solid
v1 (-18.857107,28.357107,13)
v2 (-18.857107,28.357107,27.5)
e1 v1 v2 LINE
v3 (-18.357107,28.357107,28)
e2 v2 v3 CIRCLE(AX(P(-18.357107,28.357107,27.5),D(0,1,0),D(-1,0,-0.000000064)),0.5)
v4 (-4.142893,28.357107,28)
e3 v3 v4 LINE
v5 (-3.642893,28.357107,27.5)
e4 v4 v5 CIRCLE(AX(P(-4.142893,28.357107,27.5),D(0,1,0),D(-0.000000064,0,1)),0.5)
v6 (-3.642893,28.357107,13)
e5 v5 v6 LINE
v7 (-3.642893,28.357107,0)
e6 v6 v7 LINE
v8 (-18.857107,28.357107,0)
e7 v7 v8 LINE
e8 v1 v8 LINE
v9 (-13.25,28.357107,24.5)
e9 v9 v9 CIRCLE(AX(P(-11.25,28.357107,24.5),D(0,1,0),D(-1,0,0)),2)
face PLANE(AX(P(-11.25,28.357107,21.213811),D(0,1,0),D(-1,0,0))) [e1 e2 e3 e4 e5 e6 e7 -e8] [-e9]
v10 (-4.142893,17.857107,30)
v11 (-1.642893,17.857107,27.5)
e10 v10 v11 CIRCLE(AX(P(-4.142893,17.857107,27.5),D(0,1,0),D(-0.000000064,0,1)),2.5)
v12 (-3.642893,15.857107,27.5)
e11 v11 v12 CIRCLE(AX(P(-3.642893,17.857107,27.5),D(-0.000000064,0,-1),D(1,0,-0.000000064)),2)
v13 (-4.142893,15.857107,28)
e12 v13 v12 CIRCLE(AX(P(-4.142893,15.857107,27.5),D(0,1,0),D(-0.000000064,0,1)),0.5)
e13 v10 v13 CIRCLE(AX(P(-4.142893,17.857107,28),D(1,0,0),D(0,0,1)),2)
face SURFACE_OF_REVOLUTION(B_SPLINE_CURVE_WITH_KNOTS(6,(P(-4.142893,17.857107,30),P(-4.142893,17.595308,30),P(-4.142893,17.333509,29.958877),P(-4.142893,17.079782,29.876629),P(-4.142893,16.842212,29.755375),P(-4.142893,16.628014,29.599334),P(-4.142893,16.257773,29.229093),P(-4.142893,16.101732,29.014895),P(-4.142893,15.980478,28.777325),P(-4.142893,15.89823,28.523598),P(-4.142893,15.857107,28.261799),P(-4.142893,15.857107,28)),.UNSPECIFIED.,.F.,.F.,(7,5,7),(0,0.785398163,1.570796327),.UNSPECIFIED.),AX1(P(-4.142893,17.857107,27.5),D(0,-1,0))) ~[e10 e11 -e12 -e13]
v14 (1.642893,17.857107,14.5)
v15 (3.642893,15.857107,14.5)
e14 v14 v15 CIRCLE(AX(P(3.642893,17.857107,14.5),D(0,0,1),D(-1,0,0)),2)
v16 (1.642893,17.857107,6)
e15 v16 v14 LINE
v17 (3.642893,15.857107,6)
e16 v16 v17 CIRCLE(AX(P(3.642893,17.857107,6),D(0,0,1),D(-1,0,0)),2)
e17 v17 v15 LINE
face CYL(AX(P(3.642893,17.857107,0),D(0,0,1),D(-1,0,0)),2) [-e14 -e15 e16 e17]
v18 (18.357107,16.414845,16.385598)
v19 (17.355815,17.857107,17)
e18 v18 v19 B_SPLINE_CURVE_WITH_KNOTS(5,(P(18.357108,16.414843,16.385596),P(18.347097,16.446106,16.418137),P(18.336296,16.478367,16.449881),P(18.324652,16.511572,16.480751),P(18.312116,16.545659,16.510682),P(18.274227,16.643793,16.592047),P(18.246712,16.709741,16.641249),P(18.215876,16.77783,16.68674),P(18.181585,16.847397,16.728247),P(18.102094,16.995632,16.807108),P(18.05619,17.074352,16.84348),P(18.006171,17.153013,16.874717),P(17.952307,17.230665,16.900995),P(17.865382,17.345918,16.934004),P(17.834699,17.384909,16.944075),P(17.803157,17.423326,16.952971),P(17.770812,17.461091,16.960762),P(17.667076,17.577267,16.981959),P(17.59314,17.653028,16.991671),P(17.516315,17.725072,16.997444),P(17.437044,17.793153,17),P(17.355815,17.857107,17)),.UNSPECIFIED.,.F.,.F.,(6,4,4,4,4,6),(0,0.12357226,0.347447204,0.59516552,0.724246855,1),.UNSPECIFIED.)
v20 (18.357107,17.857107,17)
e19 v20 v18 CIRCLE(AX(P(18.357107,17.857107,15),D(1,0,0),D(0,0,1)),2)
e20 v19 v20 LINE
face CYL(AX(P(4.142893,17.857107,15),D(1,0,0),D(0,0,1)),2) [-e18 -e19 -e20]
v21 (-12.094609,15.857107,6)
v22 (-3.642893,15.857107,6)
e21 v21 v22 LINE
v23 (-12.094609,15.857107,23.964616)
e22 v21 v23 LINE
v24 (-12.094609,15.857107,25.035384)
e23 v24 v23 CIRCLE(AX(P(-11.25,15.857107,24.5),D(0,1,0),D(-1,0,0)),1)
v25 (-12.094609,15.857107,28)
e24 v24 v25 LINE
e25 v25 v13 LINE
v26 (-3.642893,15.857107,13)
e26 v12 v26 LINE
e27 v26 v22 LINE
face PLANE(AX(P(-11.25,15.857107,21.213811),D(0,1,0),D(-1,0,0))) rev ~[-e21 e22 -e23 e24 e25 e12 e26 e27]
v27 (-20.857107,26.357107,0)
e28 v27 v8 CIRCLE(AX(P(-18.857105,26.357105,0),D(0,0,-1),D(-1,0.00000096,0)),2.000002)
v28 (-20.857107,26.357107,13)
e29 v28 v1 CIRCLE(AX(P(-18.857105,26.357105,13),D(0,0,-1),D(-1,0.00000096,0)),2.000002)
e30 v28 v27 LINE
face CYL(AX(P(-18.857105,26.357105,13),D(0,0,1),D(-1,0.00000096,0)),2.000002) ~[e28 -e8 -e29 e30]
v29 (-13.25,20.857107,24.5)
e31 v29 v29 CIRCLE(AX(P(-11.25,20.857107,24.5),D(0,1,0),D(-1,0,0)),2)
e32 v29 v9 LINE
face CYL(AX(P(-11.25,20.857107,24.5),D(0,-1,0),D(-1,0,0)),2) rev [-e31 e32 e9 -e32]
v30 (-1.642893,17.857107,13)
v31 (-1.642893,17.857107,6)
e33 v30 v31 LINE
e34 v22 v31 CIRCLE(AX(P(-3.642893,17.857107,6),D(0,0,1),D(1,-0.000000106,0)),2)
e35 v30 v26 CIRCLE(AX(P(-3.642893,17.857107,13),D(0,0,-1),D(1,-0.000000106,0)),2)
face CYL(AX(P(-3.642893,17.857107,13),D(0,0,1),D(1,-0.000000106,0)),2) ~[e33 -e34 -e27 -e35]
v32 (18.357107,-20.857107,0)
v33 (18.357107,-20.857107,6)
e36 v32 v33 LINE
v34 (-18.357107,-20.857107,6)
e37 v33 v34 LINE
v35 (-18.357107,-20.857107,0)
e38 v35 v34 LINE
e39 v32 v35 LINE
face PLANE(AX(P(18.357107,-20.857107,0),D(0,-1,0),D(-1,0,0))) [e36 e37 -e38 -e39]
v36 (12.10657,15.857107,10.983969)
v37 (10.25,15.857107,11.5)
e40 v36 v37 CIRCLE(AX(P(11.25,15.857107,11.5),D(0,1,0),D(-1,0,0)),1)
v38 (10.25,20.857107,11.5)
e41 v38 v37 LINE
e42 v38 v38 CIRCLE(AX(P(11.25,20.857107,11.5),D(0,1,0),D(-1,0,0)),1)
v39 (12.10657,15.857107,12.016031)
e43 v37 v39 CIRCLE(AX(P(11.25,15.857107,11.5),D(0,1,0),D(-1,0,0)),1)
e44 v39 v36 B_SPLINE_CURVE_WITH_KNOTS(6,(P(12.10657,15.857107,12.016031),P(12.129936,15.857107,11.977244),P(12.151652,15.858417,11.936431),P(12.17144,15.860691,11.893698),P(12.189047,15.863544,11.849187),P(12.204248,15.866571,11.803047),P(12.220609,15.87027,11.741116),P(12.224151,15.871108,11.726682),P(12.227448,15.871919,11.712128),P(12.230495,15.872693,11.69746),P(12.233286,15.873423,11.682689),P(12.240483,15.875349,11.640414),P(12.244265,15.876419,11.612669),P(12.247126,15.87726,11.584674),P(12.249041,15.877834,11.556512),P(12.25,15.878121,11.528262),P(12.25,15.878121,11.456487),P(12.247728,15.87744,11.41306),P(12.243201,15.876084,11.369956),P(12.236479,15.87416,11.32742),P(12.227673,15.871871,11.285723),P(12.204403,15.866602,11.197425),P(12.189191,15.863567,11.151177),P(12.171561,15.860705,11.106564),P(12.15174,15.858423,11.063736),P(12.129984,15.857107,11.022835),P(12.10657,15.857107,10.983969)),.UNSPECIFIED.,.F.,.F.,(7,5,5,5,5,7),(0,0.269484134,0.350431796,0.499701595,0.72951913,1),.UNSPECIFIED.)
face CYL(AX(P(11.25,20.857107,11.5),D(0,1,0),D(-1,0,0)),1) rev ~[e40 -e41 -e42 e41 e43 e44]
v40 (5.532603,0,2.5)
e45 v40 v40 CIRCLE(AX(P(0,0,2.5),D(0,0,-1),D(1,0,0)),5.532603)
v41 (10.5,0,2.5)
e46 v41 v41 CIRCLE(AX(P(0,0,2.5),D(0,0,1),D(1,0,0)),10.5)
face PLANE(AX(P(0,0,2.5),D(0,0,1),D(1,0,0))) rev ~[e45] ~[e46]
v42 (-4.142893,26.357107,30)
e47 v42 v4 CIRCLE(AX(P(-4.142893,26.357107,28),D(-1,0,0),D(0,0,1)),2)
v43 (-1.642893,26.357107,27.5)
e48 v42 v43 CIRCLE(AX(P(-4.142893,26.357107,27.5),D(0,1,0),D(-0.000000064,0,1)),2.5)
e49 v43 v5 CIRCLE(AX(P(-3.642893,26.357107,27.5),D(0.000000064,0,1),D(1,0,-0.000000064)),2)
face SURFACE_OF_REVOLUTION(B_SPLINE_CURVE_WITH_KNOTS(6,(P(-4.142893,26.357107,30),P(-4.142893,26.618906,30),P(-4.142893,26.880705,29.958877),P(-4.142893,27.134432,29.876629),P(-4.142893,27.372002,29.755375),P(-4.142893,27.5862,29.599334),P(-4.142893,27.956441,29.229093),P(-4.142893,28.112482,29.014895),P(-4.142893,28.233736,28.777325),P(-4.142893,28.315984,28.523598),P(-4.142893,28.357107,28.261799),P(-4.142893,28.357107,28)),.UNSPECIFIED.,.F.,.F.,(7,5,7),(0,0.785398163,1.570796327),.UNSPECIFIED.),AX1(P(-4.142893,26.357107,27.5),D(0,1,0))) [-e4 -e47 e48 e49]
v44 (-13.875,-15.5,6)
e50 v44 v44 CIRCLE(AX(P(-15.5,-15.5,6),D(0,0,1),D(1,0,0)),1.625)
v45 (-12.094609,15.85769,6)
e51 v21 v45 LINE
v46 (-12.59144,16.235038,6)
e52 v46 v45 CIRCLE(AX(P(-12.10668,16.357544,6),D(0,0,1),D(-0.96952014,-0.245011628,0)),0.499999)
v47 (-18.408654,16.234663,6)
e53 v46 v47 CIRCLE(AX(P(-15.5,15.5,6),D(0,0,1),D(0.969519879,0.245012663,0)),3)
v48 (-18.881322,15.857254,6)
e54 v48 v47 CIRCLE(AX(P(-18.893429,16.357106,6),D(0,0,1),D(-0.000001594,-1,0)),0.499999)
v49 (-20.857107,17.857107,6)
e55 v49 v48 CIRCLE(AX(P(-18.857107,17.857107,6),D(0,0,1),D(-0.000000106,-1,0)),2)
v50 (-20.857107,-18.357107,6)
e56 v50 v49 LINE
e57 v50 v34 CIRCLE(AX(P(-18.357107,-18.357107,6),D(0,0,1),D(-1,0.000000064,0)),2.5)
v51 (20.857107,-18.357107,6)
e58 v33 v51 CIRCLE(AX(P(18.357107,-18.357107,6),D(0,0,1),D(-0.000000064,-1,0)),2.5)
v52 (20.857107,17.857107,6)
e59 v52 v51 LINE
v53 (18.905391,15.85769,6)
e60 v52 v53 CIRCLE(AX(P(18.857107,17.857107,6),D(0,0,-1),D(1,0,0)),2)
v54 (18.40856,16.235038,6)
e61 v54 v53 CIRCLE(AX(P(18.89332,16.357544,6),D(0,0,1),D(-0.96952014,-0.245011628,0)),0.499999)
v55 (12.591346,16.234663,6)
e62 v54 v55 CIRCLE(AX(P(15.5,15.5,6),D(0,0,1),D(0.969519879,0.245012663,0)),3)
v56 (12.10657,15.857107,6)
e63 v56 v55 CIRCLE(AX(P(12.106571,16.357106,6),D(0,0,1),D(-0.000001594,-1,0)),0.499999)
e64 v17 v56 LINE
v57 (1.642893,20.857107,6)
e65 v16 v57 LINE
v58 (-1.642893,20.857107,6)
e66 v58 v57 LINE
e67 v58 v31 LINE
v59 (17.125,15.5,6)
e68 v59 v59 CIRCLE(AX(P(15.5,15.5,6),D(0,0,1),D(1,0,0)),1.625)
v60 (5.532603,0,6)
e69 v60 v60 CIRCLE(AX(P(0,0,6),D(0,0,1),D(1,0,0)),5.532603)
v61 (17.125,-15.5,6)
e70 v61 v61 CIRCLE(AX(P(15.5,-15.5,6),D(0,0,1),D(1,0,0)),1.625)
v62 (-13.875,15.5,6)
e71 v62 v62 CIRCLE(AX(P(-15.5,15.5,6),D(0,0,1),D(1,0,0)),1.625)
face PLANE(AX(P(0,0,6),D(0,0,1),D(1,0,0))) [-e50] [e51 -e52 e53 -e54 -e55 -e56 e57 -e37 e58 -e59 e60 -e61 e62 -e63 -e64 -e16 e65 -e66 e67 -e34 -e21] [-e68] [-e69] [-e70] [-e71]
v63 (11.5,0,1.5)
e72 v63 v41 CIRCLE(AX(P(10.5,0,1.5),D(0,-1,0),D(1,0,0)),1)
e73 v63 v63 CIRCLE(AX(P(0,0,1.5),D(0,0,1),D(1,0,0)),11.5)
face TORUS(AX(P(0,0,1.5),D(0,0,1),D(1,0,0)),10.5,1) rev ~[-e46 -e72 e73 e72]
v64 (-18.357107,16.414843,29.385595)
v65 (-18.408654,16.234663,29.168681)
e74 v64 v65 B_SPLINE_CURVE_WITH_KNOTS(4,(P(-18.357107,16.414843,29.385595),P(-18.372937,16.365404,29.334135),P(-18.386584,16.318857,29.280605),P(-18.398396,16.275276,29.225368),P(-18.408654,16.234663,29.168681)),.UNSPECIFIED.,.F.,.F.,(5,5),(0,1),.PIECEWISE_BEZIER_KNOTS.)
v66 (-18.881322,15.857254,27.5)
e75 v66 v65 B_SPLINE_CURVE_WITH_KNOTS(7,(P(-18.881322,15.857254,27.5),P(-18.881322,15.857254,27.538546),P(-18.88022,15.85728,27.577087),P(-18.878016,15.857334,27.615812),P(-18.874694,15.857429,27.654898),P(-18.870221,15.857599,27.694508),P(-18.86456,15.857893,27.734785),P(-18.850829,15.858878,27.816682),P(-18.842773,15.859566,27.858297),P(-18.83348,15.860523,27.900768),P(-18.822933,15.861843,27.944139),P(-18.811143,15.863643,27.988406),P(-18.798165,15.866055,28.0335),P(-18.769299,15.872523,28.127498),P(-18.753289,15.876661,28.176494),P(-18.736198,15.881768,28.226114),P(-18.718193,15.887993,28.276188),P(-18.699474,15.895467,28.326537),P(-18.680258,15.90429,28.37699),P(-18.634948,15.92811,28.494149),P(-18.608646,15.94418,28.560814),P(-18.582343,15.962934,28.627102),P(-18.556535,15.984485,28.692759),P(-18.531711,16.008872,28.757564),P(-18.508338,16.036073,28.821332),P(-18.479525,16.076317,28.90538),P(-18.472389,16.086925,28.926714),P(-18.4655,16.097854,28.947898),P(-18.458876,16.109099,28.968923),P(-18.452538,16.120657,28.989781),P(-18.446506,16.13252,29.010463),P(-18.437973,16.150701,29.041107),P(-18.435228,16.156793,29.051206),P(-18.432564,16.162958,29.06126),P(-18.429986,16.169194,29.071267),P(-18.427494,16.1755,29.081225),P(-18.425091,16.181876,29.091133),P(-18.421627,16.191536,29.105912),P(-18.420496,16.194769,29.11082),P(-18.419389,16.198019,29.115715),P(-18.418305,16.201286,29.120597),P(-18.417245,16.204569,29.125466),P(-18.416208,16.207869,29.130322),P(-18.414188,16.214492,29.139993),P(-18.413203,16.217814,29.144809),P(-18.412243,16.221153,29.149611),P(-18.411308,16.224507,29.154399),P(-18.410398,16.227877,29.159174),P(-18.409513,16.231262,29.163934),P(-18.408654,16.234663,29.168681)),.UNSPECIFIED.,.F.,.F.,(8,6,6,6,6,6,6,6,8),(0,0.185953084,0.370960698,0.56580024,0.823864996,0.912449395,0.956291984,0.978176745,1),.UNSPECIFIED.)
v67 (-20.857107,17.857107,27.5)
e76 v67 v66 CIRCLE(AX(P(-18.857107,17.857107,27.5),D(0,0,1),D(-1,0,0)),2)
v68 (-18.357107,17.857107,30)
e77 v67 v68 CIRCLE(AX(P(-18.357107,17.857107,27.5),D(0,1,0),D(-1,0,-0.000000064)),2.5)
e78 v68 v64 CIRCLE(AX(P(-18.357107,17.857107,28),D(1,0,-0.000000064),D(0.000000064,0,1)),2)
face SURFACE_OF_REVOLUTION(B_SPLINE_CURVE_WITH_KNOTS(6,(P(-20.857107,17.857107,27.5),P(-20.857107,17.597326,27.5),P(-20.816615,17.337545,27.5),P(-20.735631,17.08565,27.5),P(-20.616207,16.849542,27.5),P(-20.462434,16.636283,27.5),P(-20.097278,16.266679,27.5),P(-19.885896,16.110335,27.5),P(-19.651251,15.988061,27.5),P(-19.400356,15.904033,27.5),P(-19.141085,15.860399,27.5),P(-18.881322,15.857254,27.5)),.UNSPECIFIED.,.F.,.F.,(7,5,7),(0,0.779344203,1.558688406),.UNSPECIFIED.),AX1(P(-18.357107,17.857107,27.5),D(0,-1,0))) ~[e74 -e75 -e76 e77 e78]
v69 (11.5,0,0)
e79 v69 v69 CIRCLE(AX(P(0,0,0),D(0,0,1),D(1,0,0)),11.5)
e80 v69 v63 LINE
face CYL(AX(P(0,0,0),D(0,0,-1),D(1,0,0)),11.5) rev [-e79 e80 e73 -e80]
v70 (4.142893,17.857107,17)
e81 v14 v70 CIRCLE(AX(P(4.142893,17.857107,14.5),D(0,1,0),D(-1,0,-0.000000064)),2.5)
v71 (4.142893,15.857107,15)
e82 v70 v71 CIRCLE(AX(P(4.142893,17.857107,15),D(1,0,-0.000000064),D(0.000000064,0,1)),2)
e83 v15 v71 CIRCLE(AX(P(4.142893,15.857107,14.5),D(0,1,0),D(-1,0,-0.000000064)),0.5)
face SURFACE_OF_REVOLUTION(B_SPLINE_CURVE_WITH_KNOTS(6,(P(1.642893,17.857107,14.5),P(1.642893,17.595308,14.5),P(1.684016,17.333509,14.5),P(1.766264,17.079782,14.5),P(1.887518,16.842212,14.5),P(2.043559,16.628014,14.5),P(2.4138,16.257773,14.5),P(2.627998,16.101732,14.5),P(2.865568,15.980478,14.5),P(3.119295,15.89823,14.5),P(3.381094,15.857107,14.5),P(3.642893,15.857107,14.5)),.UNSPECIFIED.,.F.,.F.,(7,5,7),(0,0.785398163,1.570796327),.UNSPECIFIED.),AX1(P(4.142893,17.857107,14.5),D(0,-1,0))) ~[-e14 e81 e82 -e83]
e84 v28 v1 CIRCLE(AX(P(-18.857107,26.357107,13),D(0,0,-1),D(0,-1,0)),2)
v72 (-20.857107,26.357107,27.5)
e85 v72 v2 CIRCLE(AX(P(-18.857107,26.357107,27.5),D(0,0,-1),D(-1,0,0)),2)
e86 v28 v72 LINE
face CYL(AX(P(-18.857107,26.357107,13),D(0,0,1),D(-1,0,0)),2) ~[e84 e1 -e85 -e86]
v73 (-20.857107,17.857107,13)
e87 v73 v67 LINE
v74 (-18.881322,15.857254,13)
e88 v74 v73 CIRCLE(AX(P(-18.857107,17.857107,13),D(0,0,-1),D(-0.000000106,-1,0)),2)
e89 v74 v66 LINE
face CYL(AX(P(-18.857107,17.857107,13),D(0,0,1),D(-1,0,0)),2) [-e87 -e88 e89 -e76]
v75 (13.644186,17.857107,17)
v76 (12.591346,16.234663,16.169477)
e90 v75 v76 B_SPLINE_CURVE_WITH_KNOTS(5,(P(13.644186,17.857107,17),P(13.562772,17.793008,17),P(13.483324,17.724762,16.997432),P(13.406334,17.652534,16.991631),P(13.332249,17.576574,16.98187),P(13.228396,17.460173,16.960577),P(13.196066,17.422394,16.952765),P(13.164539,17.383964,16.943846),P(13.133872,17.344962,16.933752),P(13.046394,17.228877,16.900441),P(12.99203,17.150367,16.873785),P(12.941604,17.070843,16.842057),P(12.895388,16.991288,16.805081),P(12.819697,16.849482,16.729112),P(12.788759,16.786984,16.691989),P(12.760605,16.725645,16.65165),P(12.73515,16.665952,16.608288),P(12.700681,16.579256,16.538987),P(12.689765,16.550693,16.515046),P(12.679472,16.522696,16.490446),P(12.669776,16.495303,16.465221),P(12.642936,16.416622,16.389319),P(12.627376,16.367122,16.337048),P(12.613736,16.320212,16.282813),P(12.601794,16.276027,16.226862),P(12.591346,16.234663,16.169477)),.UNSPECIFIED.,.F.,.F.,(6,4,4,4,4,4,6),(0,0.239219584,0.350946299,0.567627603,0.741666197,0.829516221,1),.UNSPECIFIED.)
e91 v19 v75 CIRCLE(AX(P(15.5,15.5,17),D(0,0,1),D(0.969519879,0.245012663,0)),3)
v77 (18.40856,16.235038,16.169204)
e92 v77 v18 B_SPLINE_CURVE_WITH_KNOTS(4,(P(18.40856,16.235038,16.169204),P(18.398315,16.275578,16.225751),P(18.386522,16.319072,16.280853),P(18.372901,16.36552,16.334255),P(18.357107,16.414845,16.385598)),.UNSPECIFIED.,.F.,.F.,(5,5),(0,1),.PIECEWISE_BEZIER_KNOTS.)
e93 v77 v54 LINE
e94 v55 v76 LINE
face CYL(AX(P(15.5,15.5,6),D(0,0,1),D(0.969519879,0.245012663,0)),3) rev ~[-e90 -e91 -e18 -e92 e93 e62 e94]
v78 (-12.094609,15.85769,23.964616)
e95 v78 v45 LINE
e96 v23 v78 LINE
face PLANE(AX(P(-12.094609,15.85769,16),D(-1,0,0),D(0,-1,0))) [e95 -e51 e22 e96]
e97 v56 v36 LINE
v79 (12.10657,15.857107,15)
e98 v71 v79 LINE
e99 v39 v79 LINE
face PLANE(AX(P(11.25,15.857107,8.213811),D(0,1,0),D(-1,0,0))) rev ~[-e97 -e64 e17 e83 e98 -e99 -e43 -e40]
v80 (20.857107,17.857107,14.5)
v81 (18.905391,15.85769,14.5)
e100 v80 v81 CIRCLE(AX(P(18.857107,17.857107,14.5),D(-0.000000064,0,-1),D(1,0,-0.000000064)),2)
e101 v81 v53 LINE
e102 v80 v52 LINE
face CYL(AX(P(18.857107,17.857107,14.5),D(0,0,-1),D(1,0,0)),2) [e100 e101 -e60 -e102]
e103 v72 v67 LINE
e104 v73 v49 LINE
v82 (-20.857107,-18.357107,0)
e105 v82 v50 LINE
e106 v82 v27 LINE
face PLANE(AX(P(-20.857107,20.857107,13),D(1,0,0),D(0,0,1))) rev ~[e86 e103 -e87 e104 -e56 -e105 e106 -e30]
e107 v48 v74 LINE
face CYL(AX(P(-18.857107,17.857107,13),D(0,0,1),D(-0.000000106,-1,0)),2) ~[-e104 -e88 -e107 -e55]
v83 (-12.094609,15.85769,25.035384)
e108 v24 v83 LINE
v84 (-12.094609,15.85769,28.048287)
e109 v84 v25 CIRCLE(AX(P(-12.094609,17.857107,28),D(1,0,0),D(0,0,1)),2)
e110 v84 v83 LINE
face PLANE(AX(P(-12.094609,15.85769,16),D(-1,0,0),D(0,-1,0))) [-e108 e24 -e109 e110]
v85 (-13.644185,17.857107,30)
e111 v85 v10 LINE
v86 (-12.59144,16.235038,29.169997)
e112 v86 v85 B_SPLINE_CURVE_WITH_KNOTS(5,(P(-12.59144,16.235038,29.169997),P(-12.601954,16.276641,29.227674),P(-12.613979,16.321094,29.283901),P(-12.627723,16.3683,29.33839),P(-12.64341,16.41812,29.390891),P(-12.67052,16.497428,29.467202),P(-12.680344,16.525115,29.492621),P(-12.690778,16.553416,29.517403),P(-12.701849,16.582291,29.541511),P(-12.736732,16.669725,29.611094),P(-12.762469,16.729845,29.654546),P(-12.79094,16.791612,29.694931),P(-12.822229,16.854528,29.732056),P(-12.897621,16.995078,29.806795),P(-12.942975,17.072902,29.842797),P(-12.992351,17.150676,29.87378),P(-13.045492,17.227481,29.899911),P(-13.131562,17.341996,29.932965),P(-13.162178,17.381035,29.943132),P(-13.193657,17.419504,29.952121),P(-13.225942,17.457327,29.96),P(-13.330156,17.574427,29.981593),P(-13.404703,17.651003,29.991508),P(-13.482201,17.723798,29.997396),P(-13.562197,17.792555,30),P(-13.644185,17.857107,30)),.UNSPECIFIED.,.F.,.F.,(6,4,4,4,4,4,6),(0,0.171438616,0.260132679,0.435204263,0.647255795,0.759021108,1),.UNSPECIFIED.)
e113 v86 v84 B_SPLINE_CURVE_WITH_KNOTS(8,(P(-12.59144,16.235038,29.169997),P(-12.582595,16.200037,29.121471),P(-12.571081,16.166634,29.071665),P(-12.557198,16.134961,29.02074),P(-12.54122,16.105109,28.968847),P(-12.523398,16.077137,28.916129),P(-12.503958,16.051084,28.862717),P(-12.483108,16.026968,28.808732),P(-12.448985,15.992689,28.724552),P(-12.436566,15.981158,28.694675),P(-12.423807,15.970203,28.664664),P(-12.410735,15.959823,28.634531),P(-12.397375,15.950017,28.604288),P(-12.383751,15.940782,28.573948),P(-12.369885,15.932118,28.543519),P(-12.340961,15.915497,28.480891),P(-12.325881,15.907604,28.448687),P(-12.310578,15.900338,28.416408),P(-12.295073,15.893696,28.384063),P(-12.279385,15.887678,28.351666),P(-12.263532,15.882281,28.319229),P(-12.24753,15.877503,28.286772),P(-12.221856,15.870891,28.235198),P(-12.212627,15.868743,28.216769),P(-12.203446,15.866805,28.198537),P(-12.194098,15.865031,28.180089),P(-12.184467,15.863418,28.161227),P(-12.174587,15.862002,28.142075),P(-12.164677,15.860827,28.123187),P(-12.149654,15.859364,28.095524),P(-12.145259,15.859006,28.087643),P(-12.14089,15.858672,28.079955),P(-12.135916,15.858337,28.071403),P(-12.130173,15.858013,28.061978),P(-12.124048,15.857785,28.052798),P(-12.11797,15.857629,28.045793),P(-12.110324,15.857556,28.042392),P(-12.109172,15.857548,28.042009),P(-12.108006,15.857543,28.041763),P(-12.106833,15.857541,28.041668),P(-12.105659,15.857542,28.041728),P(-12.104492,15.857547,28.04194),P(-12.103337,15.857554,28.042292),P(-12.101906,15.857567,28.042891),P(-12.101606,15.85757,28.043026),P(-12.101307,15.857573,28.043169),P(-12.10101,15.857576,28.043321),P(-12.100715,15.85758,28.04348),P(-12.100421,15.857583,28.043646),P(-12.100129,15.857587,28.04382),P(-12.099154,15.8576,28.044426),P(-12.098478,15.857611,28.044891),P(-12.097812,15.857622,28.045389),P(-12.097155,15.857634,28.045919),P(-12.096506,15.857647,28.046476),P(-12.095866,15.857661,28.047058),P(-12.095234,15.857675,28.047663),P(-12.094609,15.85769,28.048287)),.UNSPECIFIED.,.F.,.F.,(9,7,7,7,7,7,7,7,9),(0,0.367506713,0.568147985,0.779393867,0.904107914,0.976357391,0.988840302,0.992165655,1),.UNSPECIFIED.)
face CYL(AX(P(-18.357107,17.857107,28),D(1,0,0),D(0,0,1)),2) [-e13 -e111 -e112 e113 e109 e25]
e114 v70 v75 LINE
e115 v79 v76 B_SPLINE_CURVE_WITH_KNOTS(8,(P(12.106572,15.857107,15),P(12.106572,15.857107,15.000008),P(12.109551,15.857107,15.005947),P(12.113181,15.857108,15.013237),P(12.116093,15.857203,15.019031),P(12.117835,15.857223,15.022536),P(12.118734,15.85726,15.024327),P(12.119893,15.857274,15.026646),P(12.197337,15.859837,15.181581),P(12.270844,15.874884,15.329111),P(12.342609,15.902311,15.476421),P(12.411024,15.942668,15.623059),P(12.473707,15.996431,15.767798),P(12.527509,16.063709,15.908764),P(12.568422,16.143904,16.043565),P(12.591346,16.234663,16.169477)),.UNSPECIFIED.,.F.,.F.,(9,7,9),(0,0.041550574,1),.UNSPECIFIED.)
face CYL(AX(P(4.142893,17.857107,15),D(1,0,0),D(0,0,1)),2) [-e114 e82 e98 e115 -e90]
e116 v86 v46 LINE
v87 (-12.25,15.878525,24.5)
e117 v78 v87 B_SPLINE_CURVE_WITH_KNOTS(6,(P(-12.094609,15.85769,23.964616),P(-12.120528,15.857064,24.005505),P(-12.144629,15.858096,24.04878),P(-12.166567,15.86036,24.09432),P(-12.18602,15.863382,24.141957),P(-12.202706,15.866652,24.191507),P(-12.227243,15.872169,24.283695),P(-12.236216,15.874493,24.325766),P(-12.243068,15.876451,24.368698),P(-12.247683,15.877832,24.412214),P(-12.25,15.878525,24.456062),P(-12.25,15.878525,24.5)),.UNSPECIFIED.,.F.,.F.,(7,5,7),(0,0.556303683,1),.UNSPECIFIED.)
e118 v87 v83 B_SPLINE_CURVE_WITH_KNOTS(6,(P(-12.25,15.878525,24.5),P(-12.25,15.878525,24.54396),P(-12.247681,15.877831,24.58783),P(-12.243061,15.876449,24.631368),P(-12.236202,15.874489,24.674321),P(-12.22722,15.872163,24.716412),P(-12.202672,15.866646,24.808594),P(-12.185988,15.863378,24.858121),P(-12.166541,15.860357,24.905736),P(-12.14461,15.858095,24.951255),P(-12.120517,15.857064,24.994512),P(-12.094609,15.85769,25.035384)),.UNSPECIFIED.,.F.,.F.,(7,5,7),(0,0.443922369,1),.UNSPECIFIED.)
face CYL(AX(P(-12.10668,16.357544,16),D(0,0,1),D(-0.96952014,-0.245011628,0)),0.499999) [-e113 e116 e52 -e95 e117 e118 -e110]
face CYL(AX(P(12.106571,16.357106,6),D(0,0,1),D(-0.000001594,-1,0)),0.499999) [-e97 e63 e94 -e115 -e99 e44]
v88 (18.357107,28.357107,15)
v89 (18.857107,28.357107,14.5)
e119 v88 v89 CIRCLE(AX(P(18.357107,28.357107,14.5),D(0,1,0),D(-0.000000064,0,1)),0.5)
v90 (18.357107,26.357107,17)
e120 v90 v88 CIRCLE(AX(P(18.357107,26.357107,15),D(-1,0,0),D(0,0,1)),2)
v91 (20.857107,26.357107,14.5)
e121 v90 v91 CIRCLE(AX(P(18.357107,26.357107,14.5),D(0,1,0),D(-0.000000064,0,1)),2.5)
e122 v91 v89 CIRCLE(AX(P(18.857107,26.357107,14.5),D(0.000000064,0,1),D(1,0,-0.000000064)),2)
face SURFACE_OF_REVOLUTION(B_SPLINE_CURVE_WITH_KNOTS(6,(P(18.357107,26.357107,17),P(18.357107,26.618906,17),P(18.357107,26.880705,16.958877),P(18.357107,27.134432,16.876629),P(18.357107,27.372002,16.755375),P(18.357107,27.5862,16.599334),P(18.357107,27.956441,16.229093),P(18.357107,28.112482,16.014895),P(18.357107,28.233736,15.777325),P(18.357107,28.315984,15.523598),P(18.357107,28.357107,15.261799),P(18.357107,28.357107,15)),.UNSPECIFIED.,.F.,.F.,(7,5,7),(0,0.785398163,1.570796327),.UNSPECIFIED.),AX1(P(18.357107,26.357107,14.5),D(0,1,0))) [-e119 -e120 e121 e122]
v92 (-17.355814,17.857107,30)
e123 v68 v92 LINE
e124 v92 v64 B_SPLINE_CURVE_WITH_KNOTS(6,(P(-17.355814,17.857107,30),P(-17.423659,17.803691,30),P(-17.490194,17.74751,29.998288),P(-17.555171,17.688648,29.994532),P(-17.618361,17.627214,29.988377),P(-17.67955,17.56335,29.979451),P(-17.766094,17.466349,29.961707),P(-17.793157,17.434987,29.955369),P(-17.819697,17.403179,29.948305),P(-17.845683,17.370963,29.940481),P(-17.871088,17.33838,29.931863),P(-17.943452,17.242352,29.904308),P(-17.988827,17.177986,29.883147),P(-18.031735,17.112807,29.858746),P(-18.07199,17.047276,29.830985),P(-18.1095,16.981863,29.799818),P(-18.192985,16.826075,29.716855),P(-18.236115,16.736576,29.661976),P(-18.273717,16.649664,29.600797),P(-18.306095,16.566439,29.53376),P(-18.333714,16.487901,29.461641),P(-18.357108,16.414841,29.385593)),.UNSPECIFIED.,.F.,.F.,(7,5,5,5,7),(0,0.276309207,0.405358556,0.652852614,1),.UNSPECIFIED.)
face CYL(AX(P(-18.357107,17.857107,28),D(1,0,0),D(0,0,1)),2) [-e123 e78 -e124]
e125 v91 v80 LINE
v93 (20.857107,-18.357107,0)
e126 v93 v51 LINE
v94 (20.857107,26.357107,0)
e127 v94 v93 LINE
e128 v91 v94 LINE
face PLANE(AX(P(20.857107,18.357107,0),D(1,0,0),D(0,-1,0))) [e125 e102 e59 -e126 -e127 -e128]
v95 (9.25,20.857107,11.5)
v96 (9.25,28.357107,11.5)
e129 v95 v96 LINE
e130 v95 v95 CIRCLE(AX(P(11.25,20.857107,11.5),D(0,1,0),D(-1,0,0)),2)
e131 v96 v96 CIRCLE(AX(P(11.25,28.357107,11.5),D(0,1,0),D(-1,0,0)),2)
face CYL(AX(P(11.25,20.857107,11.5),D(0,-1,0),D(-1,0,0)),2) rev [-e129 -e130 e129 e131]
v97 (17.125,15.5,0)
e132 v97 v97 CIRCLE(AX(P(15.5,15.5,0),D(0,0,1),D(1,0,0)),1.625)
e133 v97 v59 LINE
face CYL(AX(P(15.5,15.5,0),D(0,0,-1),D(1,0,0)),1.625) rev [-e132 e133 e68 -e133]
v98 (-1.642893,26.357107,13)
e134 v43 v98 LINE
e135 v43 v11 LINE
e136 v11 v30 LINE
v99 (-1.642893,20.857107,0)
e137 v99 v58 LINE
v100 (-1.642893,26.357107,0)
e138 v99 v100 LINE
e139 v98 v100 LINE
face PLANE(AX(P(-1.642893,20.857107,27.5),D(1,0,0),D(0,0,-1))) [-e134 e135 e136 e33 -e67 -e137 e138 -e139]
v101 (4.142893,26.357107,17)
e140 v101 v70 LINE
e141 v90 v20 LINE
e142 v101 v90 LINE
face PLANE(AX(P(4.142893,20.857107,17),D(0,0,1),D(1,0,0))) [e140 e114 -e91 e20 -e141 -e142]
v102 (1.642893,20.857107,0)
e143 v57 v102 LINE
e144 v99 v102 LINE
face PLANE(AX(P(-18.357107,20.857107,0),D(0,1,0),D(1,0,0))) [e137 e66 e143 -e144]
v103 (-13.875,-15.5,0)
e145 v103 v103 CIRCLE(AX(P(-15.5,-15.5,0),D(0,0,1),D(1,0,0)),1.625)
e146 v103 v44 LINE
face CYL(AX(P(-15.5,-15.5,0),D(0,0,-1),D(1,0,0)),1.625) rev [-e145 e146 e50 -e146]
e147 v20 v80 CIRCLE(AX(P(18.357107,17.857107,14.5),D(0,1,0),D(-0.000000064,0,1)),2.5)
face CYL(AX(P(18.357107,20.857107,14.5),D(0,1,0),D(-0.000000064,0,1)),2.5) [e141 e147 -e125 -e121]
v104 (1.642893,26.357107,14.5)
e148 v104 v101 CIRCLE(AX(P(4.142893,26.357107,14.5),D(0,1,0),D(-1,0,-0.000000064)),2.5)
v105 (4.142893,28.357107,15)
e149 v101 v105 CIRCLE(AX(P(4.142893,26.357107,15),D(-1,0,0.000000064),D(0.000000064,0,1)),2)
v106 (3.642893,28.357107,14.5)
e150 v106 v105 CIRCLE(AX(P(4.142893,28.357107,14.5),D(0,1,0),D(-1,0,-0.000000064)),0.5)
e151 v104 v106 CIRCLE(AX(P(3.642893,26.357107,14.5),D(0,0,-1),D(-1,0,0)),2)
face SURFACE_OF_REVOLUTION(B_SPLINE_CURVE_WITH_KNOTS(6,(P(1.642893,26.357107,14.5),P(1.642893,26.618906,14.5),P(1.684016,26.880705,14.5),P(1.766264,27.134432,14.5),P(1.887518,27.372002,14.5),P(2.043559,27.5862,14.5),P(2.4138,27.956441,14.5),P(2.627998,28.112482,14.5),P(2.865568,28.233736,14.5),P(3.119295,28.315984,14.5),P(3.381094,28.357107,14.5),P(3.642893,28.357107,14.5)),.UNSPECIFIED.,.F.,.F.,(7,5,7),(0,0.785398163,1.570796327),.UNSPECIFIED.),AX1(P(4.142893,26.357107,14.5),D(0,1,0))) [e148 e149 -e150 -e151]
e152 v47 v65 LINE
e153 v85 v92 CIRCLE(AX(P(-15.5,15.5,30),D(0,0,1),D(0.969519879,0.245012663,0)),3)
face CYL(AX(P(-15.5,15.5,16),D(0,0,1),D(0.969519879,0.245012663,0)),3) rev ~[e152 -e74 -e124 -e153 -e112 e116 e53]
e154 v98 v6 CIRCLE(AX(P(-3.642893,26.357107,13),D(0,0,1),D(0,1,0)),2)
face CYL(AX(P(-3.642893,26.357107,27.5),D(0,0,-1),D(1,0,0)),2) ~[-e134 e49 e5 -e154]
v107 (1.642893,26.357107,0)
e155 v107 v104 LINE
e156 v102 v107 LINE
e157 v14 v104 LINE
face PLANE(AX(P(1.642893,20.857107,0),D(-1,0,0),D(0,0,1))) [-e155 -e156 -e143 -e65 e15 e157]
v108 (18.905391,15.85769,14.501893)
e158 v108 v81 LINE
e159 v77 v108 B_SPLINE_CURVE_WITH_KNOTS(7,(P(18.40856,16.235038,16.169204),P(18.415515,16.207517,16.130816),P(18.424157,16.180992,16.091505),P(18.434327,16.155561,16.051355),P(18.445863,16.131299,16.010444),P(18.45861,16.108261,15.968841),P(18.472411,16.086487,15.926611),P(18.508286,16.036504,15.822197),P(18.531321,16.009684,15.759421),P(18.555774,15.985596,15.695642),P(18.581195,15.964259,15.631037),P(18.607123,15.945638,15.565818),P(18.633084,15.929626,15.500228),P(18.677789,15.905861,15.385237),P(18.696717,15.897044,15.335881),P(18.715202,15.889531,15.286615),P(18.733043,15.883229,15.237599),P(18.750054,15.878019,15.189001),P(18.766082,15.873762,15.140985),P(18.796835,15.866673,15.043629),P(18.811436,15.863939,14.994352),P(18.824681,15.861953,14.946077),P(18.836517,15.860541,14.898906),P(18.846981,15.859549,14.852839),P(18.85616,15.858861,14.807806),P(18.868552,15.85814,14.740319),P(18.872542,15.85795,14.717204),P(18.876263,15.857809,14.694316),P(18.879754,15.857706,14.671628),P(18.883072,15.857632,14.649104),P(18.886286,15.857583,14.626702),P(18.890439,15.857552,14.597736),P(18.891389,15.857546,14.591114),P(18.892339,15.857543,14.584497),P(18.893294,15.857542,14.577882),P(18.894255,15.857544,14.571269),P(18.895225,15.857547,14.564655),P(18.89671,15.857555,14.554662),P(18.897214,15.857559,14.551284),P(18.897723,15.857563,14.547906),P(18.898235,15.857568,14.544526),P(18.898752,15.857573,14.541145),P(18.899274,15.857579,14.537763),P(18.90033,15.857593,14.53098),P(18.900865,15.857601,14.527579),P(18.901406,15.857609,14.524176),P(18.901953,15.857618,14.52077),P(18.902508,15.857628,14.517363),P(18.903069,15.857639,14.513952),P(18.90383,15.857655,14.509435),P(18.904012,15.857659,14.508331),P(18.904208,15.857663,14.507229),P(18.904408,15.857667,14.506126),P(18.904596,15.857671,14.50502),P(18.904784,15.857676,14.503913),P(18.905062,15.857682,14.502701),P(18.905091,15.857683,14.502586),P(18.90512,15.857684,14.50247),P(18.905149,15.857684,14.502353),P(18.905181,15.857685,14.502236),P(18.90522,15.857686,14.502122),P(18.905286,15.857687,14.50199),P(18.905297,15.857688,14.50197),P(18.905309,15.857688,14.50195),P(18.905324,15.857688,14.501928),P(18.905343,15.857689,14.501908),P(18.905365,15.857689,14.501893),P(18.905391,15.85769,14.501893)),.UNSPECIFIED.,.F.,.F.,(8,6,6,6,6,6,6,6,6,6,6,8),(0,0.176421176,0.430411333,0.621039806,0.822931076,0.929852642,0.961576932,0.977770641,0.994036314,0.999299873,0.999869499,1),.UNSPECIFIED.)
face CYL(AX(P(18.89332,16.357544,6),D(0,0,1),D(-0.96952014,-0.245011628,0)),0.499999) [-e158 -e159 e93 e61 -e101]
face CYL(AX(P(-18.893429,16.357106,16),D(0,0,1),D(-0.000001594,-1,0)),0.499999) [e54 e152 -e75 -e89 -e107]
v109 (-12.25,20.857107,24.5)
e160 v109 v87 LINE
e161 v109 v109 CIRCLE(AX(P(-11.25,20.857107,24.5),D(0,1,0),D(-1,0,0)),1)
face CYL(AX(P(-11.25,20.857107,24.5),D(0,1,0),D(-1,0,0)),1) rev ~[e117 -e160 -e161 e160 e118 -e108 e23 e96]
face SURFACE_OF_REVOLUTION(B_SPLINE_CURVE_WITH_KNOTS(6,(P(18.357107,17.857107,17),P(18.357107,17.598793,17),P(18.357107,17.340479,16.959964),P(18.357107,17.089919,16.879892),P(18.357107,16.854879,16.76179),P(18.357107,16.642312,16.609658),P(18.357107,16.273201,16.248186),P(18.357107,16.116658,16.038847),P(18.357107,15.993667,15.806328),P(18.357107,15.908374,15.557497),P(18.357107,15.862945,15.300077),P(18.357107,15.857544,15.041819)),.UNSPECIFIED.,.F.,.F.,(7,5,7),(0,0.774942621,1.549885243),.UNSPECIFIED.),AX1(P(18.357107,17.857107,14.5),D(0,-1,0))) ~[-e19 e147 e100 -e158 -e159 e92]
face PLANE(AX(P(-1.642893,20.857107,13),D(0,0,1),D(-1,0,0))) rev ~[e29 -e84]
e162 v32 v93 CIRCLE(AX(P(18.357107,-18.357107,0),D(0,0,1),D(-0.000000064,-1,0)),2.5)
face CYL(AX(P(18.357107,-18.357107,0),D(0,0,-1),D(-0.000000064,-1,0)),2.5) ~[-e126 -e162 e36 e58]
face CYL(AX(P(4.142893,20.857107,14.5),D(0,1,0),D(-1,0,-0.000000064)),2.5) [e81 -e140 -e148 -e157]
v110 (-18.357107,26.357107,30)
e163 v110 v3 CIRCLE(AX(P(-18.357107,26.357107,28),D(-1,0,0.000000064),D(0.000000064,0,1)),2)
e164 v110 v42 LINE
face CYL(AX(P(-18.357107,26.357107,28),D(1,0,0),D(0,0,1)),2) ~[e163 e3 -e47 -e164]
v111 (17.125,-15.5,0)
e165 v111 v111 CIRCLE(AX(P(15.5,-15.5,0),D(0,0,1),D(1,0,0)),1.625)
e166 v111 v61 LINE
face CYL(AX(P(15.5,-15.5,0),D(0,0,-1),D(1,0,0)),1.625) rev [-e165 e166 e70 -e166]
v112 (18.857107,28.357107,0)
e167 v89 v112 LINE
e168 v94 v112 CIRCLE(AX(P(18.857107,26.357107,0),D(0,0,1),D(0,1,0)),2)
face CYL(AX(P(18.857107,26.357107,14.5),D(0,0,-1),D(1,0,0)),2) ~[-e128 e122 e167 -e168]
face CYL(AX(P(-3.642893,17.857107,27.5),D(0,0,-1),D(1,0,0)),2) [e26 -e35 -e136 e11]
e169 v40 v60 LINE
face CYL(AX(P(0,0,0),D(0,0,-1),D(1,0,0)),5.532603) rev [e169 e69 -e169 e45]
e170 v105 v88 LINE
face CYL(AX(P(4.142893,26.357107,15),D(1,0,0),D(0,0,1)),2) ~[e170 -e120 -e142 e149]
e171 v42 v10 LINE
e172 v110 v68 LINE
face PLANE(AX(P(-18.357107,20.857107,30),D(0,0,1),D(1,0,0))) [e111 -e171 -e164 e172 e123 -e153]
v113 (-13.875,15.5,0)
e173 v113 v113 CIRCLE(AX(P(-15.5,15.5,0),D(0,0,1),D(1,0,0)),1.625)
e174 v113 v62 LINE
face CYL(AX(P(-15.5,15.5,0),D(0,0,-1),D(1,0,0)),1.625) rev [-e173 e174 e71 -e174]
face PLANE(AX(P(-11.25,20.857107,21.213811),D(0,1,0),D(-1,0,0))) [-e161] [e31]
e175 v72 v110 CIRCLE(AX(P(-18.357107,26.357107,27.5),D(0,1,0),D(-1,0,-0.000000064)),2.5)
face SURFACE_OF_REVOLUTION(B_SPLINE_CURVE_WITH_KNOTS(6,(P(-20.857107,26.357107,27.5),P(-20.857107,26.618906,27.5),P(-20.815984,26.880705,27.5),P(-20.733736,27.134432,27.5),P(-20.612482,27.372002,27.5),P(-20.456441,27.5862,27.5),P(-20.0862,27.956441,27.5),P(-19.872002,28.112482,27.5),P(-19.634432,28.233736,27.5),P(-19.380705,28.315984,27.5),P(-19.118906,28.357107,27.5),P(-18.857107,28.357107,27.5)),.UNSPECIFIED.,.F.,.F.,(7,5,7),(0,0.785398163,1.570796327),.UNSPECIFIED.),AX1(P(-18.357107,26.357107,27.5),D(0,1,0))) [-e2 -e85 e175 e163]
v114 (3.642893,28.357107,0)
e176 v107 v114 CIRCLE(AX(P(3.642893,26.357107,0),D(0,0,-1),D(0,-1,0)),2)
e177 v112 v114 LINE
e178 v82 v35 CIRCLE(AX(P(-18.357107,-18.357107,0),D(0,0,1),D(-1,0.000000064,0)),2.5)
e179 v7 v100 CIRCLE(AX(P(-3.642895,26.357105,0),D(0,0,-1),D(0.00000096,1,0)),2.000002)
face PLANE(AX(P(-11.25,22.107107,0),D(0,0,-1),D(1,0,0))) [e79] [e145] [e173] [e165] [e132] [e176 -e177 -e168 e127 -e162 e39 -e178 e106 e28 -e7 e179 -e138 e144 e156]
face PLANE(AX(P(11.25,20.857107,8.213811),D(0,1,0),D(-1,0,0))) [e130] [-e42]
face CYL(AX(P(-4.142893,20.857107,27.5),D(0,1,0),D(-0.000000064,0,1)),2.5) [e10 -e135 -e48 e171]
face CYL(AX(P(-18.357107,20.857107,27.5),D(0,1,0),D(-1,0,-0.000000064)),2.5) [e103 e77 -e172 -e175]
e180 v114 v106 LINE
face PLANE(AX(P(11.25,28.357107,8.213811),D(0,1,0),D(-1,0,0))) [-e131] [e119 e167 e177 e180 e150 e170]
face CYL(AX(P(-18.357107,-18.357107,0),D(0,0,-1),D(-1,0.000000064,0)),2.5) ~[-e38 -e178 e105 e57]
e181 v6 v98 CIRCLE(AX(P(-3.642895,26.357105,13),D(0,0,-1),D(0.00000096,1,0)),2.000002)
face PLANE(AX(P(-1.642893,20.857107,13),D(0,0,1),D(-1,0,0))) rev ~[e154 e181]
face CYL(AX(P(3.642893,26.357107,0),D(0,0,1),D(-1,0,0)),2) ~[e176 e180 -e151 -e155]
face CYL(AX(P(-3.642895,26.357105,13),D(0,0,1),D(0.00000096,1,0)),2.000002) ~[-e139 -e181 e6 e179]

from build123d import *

# Parameters (mm, degrees)
EXTRUDE019_DEPTH = 20
SKETCH022_R      = 2
EXTRUDE017_DEPTH = 7.5
FILLET008_R      = 2
SKETCH021_R      = 1
EXTRUDE016_DEPTH = 5
FILLET007_R      = 2
EXTRUDE018_DEPTH = 13
EXTRUDE007_DEPTH = 20
SKETCH008_R      = 1
EXTRUDE004_DEPTH = 5
FILLET001_R      = 2
SKETCH005_R      = 11.5
EXTRUDE003_DEPTH = 2.5
FILLET_R         = 1
SKETCH006_R      = 1.625
SKETCH006_R_2    = 5.532603
EXTRUDE002_DEPTH = 6
SKETCH009_R      = 2
EXTRUDE005_DEPTH = 7.5
FILLET002_R      = 2


with BuildPart() as extrude019:
    # Sketch024 (on Face5 of Cut001) → Extrude019 (new body, symmetric)
    with BuildSketch(Plane.XY.offset(6)):
        with BuildLine():
            ThreePointArc((18.40856, 16.235038), (15.499807, 18.5), (12.591346, 16.234663))
            ThreePointArc((12.10657, 15.857107), (12.413798, 15.962631), (12.591346, 16.234663))
            Line((12.10657, 15.857107), (12.10657, 10.857107))
            Line((12.10657, 10.857107), (18.905391, 10.857107))
            Line((18.905391, 15.85769), (18.905391, 10.857107))
            ThreePointArc((18.40856, 16.235038), (18.590902, 15.959369), (18.905391, 15.85769))
        make_face()
    extrude(amount=EXTRUDE019_DEPTH, both=True)


with BuildPart() as extrude019_1:
    # Extrude019 placement: moved
    add(extrude019.part.moved(Location((-31, 0, 10))))


with BuildPart() as fillet008:
    # Sketch022 (on Face2 of Cut001) → Extrude017 (new body)
    with BuildSketch(Plane(origin=(0, 20.857107, 0), x_dir=(-1, 0, 0), z_dir=(0, 1, 0))):
        with BuildLine():
            Line((-20.857107, 14.5), (-20.857107, 0))
            Line((-20.857107, 0), (-1.642893, 0))
            Line((-1.642893, 0), (-1.642893, 14.5))
            ThreePointArc((-1.642893, 14.5), (-2.375126, 16.267767), (-4.142893, 17))
            Line((-4.142893, 17), (-18.357107, 17))
            ThreePointArc((-18.357107, 17), (-20.124874, 16.267767), (-20.857107, 14.5))
        make_face()
        with Locations((-11.25, 11.5)):
            Circle(SKETCH022_R, mode=Mode.SUBTRACT)
    extrude(amount=EXTRUDE017_DEPTH)

    # Fillet008
    fillet008_edges = [fillet008.edges().sort_by_distance(p)[0] for p in [
        (20.124874, 28.357107, 16.267767),
    ]]
    fillet(fillet008_edges, radius=FILLET008_R)


with BuildPart() as fillet008_1:
    # Fillet008 placement: moved
    add(fillet008.part.moved(Location((-22.5, 0, 13))))


with BuildPart() as fillet007:
    # Sketch021 (on Face2 of Cut001) → Extrude016 (new body)
    with BuildSketch(Plane(origin=(0, 20.857107, 0), x_dir=(-1, 0, 0), z_dir=(0, 1, 0))):
        with BuildLine():
            Line((-20.857107, 14.5), (-20.857107, 0))
            Line((-20.857107, 0), (-1.642893, 0))
            Line((-1.642893, 0), (-1.642893, 14.5))
            ThreePointArc((-1.642893, 14.5), (-2.375126, 16.267767), (-4.142893, 17))
            Line((-4.142893, 17), (-18.357107, 17))
            ThreePointArc((-18.357107, 17), (-20.124874, 16.267767), (-20.857107, 14.5))
        make_face()
        with Locations((-11.25, 11.5)):
            Circle(SKETCH021_R, mode=Mode.SUBTRACT)
    extrude(amount=-EXTRUDE016_DEPTH)

    # Fillet007
    fillet007_edges = [fillet007.edges().sort_by_distance(p)[0] for p in [
        (20.124874, 15.857107, 16.267767),
    ]]
    fillet(fillet007_edges, radius=FILLET007_R)


with BuildPart() as fillet007_1:
    # Fillet007 placement: moved
    add(fillet007.part.moved(Location((-22.5, 0, 13))))


with BuildPart() as cut005:
    # Sketch023 (on Face5 of Fillet008) → Extrude018 (new body)
    with BuildSketch(Plane(origin=(-22.5, 0, 13), x_dir=(1, 0, 0), z_dir=(0, 0, -1))):
        with BuildLine():
            ThreePointArc((1.642893, -26.357107), (2.22868, -27.77132), (3.642893, -28.357107))
            Line((18.857107, -28.357107), (3.642893, -28.357107))
            ThreePointArc((18.857107, -28.357107), (20.27132, -27.77132), (20.857107, -26.357107))
            Line((20.857107, -17.857107), (20.857107, -26.357107))
            ThreePointArc((20.857107, -17.857107), (20.27132, -16.442893), (18.857107, -15.857107))
            Line((3.642893, -15.857107), (18.857107, -15.857107))
            ThreePointArc((3.642893, -15.857107), (2.22868, -16.442893), (1.642893, -17.857107))
            Line((1.642893, -26.357107), (1.642893, -17.857107))
        make_face()
    extrude(amount=EXTRUDE018_DEPTH)

    # Fusion006: union Fillet008, Fillet007
    add(fillet008_1.part)
    add(fillet007_1.part)

    # Cut005: cut Extrude019
    add(extrude019_1.part, mode=Mode.SUBTRACT)


with BuildPart() as extrude007:
    # Sketch011 (on Face5 of Cut001) → Extrude007 (new body, symmetric)
    with BuildSketch(Plane.XY.offset(6)):
        with BuildLine():
            ThreePointArc((18.40856, 16.235038), (15.499807, 18.5), (12.591346, 16.234663))
            ThreePointArc((12.10657, 15.857107), (12.413798, 15.962631), (12.591346, 16.234663))
            Line((12.10657, 15.857107), (12.10657, 10.857107))
            Line((12.10657, 10.857107), (18.905391, 10.857107))
            Line((18.905391, 15.85769), (18.905391, 10.857107))
            ThreePointArc((18.40856, 16.235038), (18.590902, 15.959369), (18.905391, 15.85769))
        make_face()
    extrude(amount=EXTRUDE007_DEPTH, both=True)


with BuildPart() as cut002:
    # Sketch008 (on Face2 of Cut001) → Extrude004 (new body)
    with BuildSketch(Plane(origin=(0, 20.857107, 0), x_dir=(-1, 0, 0), z_dir=(0, 1, 0))):
        with BuildLine():
            Line((-20.857107, 14.5), (-20.857107, 0))
            Line((-20.857107, 0), (-1.642893, 0))
            Line((-1.642893, 0), (-1.642893, 14.5))
            ThreePointArc((-1.642893, 14.5), (-2.375126, 16.267767), (-4.142893, 17))
            Line((-4.142893, 17), (-18.357107, 17))
            ThreePointArc((-18.357107, 17), (-20.124874, 16.267767), (-20.857107, 14.5))
        make_face()
        with Locations((-11.25, 11.5)):
            Circle(SKETCH008_R, mode=Mode.SUBTRACT)
    extrude(amount=-EXTRUDE004_DEPTH)

    # Fillet001
    fillet001_edges = [cut002.edges().sort_by_distance(p)[0] for p in [
        (20.124874, 15.857107, 16.267767),
    ]]
    fillet(fillet001_edges, radius=FILLET001_R)

    # Cut002: cut Extrude007
    add(extrude007.part, mode=Mode.SUBTRACT)


with BuildPart() as fillet_body:
    # Sketch005 (on Face5 of Part__Feature005) → Extrude003 (new body)
    with BuildSketch(Plane.XY):
        Circle(SKETCH005_R)
    extrude(amount=EXTRUDE003_DEPTH)

    # Fillet
    fillet_edges = [fillet_body.edges().sort_by_distance(p)[0] for p in [
        (-11.5, 0, 2.5),
    ]]
    fillet(fillet_edges, radius=FILLET_R)


with BuildPart() as bracket_base:
    # Sketch006 (on Face5 of Part__Feature005) → Extrude002 (new body)
    with BuildSketch(Plane.XY):
        with BuildLine():
            ThreePointArc((-18.357107, 20.857107), (-20.124874, 20.124874), (-20.857107, 18.357107))
            Line((-20.857107, -18.357107), (-20.857107, 18.357107))
            ThreePointArc((-20.857107, -18.357107), (-20.124874, -20.124874), (-18.357107, -20.857107))
            Line((18.357107, -20.857107), (-18.357107, -20.857107))
            ThreePointArc((18.357107, -20.857107), (20.124874, -20.124874), (20.857107, -18.357107))
            Line((20.857107, 18.357107), (20.857107, -18.357107))
            ThreePointArc((20.857107, 18.357107), (20.124874, 20.124874), (18.357107, 20.857107))
            Line((-18.357107, 20.857107), (18.357107, 20.857107))
        make_face()
        with Locations((-15.5, 15.5)):
            Circle(SKETCH006_R, mode=Mode.SUBTRACT)
        with Locations((15.5, 15.5)):
            Circle(SKETCH006_R, mode=Mode.SUBTRACT)
        with Locations((-15.5, -15.5)):
            Circle(SKETCH006_R, mode=Mode.SUBTRACT)
        with Locations((15.5, -15.5)):
            Circle(SKETCH006_R, mode=Mode.SUBTRACT)
        Circle(SKETCH006_R_2, mode=Mode.SUBTRACT)
    extrude(amount=EXTRUDE002_DEPTH)

    # Cut001: cut Fillet body
    add(fillet_body.part, mode=Mode.SUBTRACT)


with BuildPart() as driver_motor_bracket:
    # Sketch009 (on Face2 of Cut001) → Extrude005 (new body)
    with BuildSketch(Plane(origin=(0, 20.857107, 0), x_dir=(-1, 0, 0), z_dir=(0, 1, 0))):
        with BuildLine():
            Line((-20.857107, 14.5), (-20.857107, 0))
            Line((-20.857107, 0), (-1.642893, 0))
            Line((-1.642893, 0), (-1.642893, 14.5))
            ThreePointArc((-1.642893, 14.5), (-2.375126, 16.267767), (-4.142893, 17))
            Line((-4.142893, 17), (-18.357107, 17))
            ThreePointArc((-18.357107, 17), (-20.124874, 16.267767), (-20.857107, 14.5))
        make_face()
        with Locations((-11.25, 11.5)):
            Circle(SKETCH009_R, mode=Mode.SUBTRACT)
    extrude(amount=EXTRUDE005_DEPTH)

    # Fillet002
    fillet002_edges = [driver_motor_bracket.edges().sort_by_distance(p)[0] for p in [
        (20.124874, 28.357107, 16.267767),
    ]]
    fillet(fillet002_edges, radius=FILLET002_R)

    # Fusion007: union Cut005, Cut002, bracket base
    add(cut005.part)
    add(cut002.part)
    add(bracket_base.part)


solid = driver_motor_bracket.part
